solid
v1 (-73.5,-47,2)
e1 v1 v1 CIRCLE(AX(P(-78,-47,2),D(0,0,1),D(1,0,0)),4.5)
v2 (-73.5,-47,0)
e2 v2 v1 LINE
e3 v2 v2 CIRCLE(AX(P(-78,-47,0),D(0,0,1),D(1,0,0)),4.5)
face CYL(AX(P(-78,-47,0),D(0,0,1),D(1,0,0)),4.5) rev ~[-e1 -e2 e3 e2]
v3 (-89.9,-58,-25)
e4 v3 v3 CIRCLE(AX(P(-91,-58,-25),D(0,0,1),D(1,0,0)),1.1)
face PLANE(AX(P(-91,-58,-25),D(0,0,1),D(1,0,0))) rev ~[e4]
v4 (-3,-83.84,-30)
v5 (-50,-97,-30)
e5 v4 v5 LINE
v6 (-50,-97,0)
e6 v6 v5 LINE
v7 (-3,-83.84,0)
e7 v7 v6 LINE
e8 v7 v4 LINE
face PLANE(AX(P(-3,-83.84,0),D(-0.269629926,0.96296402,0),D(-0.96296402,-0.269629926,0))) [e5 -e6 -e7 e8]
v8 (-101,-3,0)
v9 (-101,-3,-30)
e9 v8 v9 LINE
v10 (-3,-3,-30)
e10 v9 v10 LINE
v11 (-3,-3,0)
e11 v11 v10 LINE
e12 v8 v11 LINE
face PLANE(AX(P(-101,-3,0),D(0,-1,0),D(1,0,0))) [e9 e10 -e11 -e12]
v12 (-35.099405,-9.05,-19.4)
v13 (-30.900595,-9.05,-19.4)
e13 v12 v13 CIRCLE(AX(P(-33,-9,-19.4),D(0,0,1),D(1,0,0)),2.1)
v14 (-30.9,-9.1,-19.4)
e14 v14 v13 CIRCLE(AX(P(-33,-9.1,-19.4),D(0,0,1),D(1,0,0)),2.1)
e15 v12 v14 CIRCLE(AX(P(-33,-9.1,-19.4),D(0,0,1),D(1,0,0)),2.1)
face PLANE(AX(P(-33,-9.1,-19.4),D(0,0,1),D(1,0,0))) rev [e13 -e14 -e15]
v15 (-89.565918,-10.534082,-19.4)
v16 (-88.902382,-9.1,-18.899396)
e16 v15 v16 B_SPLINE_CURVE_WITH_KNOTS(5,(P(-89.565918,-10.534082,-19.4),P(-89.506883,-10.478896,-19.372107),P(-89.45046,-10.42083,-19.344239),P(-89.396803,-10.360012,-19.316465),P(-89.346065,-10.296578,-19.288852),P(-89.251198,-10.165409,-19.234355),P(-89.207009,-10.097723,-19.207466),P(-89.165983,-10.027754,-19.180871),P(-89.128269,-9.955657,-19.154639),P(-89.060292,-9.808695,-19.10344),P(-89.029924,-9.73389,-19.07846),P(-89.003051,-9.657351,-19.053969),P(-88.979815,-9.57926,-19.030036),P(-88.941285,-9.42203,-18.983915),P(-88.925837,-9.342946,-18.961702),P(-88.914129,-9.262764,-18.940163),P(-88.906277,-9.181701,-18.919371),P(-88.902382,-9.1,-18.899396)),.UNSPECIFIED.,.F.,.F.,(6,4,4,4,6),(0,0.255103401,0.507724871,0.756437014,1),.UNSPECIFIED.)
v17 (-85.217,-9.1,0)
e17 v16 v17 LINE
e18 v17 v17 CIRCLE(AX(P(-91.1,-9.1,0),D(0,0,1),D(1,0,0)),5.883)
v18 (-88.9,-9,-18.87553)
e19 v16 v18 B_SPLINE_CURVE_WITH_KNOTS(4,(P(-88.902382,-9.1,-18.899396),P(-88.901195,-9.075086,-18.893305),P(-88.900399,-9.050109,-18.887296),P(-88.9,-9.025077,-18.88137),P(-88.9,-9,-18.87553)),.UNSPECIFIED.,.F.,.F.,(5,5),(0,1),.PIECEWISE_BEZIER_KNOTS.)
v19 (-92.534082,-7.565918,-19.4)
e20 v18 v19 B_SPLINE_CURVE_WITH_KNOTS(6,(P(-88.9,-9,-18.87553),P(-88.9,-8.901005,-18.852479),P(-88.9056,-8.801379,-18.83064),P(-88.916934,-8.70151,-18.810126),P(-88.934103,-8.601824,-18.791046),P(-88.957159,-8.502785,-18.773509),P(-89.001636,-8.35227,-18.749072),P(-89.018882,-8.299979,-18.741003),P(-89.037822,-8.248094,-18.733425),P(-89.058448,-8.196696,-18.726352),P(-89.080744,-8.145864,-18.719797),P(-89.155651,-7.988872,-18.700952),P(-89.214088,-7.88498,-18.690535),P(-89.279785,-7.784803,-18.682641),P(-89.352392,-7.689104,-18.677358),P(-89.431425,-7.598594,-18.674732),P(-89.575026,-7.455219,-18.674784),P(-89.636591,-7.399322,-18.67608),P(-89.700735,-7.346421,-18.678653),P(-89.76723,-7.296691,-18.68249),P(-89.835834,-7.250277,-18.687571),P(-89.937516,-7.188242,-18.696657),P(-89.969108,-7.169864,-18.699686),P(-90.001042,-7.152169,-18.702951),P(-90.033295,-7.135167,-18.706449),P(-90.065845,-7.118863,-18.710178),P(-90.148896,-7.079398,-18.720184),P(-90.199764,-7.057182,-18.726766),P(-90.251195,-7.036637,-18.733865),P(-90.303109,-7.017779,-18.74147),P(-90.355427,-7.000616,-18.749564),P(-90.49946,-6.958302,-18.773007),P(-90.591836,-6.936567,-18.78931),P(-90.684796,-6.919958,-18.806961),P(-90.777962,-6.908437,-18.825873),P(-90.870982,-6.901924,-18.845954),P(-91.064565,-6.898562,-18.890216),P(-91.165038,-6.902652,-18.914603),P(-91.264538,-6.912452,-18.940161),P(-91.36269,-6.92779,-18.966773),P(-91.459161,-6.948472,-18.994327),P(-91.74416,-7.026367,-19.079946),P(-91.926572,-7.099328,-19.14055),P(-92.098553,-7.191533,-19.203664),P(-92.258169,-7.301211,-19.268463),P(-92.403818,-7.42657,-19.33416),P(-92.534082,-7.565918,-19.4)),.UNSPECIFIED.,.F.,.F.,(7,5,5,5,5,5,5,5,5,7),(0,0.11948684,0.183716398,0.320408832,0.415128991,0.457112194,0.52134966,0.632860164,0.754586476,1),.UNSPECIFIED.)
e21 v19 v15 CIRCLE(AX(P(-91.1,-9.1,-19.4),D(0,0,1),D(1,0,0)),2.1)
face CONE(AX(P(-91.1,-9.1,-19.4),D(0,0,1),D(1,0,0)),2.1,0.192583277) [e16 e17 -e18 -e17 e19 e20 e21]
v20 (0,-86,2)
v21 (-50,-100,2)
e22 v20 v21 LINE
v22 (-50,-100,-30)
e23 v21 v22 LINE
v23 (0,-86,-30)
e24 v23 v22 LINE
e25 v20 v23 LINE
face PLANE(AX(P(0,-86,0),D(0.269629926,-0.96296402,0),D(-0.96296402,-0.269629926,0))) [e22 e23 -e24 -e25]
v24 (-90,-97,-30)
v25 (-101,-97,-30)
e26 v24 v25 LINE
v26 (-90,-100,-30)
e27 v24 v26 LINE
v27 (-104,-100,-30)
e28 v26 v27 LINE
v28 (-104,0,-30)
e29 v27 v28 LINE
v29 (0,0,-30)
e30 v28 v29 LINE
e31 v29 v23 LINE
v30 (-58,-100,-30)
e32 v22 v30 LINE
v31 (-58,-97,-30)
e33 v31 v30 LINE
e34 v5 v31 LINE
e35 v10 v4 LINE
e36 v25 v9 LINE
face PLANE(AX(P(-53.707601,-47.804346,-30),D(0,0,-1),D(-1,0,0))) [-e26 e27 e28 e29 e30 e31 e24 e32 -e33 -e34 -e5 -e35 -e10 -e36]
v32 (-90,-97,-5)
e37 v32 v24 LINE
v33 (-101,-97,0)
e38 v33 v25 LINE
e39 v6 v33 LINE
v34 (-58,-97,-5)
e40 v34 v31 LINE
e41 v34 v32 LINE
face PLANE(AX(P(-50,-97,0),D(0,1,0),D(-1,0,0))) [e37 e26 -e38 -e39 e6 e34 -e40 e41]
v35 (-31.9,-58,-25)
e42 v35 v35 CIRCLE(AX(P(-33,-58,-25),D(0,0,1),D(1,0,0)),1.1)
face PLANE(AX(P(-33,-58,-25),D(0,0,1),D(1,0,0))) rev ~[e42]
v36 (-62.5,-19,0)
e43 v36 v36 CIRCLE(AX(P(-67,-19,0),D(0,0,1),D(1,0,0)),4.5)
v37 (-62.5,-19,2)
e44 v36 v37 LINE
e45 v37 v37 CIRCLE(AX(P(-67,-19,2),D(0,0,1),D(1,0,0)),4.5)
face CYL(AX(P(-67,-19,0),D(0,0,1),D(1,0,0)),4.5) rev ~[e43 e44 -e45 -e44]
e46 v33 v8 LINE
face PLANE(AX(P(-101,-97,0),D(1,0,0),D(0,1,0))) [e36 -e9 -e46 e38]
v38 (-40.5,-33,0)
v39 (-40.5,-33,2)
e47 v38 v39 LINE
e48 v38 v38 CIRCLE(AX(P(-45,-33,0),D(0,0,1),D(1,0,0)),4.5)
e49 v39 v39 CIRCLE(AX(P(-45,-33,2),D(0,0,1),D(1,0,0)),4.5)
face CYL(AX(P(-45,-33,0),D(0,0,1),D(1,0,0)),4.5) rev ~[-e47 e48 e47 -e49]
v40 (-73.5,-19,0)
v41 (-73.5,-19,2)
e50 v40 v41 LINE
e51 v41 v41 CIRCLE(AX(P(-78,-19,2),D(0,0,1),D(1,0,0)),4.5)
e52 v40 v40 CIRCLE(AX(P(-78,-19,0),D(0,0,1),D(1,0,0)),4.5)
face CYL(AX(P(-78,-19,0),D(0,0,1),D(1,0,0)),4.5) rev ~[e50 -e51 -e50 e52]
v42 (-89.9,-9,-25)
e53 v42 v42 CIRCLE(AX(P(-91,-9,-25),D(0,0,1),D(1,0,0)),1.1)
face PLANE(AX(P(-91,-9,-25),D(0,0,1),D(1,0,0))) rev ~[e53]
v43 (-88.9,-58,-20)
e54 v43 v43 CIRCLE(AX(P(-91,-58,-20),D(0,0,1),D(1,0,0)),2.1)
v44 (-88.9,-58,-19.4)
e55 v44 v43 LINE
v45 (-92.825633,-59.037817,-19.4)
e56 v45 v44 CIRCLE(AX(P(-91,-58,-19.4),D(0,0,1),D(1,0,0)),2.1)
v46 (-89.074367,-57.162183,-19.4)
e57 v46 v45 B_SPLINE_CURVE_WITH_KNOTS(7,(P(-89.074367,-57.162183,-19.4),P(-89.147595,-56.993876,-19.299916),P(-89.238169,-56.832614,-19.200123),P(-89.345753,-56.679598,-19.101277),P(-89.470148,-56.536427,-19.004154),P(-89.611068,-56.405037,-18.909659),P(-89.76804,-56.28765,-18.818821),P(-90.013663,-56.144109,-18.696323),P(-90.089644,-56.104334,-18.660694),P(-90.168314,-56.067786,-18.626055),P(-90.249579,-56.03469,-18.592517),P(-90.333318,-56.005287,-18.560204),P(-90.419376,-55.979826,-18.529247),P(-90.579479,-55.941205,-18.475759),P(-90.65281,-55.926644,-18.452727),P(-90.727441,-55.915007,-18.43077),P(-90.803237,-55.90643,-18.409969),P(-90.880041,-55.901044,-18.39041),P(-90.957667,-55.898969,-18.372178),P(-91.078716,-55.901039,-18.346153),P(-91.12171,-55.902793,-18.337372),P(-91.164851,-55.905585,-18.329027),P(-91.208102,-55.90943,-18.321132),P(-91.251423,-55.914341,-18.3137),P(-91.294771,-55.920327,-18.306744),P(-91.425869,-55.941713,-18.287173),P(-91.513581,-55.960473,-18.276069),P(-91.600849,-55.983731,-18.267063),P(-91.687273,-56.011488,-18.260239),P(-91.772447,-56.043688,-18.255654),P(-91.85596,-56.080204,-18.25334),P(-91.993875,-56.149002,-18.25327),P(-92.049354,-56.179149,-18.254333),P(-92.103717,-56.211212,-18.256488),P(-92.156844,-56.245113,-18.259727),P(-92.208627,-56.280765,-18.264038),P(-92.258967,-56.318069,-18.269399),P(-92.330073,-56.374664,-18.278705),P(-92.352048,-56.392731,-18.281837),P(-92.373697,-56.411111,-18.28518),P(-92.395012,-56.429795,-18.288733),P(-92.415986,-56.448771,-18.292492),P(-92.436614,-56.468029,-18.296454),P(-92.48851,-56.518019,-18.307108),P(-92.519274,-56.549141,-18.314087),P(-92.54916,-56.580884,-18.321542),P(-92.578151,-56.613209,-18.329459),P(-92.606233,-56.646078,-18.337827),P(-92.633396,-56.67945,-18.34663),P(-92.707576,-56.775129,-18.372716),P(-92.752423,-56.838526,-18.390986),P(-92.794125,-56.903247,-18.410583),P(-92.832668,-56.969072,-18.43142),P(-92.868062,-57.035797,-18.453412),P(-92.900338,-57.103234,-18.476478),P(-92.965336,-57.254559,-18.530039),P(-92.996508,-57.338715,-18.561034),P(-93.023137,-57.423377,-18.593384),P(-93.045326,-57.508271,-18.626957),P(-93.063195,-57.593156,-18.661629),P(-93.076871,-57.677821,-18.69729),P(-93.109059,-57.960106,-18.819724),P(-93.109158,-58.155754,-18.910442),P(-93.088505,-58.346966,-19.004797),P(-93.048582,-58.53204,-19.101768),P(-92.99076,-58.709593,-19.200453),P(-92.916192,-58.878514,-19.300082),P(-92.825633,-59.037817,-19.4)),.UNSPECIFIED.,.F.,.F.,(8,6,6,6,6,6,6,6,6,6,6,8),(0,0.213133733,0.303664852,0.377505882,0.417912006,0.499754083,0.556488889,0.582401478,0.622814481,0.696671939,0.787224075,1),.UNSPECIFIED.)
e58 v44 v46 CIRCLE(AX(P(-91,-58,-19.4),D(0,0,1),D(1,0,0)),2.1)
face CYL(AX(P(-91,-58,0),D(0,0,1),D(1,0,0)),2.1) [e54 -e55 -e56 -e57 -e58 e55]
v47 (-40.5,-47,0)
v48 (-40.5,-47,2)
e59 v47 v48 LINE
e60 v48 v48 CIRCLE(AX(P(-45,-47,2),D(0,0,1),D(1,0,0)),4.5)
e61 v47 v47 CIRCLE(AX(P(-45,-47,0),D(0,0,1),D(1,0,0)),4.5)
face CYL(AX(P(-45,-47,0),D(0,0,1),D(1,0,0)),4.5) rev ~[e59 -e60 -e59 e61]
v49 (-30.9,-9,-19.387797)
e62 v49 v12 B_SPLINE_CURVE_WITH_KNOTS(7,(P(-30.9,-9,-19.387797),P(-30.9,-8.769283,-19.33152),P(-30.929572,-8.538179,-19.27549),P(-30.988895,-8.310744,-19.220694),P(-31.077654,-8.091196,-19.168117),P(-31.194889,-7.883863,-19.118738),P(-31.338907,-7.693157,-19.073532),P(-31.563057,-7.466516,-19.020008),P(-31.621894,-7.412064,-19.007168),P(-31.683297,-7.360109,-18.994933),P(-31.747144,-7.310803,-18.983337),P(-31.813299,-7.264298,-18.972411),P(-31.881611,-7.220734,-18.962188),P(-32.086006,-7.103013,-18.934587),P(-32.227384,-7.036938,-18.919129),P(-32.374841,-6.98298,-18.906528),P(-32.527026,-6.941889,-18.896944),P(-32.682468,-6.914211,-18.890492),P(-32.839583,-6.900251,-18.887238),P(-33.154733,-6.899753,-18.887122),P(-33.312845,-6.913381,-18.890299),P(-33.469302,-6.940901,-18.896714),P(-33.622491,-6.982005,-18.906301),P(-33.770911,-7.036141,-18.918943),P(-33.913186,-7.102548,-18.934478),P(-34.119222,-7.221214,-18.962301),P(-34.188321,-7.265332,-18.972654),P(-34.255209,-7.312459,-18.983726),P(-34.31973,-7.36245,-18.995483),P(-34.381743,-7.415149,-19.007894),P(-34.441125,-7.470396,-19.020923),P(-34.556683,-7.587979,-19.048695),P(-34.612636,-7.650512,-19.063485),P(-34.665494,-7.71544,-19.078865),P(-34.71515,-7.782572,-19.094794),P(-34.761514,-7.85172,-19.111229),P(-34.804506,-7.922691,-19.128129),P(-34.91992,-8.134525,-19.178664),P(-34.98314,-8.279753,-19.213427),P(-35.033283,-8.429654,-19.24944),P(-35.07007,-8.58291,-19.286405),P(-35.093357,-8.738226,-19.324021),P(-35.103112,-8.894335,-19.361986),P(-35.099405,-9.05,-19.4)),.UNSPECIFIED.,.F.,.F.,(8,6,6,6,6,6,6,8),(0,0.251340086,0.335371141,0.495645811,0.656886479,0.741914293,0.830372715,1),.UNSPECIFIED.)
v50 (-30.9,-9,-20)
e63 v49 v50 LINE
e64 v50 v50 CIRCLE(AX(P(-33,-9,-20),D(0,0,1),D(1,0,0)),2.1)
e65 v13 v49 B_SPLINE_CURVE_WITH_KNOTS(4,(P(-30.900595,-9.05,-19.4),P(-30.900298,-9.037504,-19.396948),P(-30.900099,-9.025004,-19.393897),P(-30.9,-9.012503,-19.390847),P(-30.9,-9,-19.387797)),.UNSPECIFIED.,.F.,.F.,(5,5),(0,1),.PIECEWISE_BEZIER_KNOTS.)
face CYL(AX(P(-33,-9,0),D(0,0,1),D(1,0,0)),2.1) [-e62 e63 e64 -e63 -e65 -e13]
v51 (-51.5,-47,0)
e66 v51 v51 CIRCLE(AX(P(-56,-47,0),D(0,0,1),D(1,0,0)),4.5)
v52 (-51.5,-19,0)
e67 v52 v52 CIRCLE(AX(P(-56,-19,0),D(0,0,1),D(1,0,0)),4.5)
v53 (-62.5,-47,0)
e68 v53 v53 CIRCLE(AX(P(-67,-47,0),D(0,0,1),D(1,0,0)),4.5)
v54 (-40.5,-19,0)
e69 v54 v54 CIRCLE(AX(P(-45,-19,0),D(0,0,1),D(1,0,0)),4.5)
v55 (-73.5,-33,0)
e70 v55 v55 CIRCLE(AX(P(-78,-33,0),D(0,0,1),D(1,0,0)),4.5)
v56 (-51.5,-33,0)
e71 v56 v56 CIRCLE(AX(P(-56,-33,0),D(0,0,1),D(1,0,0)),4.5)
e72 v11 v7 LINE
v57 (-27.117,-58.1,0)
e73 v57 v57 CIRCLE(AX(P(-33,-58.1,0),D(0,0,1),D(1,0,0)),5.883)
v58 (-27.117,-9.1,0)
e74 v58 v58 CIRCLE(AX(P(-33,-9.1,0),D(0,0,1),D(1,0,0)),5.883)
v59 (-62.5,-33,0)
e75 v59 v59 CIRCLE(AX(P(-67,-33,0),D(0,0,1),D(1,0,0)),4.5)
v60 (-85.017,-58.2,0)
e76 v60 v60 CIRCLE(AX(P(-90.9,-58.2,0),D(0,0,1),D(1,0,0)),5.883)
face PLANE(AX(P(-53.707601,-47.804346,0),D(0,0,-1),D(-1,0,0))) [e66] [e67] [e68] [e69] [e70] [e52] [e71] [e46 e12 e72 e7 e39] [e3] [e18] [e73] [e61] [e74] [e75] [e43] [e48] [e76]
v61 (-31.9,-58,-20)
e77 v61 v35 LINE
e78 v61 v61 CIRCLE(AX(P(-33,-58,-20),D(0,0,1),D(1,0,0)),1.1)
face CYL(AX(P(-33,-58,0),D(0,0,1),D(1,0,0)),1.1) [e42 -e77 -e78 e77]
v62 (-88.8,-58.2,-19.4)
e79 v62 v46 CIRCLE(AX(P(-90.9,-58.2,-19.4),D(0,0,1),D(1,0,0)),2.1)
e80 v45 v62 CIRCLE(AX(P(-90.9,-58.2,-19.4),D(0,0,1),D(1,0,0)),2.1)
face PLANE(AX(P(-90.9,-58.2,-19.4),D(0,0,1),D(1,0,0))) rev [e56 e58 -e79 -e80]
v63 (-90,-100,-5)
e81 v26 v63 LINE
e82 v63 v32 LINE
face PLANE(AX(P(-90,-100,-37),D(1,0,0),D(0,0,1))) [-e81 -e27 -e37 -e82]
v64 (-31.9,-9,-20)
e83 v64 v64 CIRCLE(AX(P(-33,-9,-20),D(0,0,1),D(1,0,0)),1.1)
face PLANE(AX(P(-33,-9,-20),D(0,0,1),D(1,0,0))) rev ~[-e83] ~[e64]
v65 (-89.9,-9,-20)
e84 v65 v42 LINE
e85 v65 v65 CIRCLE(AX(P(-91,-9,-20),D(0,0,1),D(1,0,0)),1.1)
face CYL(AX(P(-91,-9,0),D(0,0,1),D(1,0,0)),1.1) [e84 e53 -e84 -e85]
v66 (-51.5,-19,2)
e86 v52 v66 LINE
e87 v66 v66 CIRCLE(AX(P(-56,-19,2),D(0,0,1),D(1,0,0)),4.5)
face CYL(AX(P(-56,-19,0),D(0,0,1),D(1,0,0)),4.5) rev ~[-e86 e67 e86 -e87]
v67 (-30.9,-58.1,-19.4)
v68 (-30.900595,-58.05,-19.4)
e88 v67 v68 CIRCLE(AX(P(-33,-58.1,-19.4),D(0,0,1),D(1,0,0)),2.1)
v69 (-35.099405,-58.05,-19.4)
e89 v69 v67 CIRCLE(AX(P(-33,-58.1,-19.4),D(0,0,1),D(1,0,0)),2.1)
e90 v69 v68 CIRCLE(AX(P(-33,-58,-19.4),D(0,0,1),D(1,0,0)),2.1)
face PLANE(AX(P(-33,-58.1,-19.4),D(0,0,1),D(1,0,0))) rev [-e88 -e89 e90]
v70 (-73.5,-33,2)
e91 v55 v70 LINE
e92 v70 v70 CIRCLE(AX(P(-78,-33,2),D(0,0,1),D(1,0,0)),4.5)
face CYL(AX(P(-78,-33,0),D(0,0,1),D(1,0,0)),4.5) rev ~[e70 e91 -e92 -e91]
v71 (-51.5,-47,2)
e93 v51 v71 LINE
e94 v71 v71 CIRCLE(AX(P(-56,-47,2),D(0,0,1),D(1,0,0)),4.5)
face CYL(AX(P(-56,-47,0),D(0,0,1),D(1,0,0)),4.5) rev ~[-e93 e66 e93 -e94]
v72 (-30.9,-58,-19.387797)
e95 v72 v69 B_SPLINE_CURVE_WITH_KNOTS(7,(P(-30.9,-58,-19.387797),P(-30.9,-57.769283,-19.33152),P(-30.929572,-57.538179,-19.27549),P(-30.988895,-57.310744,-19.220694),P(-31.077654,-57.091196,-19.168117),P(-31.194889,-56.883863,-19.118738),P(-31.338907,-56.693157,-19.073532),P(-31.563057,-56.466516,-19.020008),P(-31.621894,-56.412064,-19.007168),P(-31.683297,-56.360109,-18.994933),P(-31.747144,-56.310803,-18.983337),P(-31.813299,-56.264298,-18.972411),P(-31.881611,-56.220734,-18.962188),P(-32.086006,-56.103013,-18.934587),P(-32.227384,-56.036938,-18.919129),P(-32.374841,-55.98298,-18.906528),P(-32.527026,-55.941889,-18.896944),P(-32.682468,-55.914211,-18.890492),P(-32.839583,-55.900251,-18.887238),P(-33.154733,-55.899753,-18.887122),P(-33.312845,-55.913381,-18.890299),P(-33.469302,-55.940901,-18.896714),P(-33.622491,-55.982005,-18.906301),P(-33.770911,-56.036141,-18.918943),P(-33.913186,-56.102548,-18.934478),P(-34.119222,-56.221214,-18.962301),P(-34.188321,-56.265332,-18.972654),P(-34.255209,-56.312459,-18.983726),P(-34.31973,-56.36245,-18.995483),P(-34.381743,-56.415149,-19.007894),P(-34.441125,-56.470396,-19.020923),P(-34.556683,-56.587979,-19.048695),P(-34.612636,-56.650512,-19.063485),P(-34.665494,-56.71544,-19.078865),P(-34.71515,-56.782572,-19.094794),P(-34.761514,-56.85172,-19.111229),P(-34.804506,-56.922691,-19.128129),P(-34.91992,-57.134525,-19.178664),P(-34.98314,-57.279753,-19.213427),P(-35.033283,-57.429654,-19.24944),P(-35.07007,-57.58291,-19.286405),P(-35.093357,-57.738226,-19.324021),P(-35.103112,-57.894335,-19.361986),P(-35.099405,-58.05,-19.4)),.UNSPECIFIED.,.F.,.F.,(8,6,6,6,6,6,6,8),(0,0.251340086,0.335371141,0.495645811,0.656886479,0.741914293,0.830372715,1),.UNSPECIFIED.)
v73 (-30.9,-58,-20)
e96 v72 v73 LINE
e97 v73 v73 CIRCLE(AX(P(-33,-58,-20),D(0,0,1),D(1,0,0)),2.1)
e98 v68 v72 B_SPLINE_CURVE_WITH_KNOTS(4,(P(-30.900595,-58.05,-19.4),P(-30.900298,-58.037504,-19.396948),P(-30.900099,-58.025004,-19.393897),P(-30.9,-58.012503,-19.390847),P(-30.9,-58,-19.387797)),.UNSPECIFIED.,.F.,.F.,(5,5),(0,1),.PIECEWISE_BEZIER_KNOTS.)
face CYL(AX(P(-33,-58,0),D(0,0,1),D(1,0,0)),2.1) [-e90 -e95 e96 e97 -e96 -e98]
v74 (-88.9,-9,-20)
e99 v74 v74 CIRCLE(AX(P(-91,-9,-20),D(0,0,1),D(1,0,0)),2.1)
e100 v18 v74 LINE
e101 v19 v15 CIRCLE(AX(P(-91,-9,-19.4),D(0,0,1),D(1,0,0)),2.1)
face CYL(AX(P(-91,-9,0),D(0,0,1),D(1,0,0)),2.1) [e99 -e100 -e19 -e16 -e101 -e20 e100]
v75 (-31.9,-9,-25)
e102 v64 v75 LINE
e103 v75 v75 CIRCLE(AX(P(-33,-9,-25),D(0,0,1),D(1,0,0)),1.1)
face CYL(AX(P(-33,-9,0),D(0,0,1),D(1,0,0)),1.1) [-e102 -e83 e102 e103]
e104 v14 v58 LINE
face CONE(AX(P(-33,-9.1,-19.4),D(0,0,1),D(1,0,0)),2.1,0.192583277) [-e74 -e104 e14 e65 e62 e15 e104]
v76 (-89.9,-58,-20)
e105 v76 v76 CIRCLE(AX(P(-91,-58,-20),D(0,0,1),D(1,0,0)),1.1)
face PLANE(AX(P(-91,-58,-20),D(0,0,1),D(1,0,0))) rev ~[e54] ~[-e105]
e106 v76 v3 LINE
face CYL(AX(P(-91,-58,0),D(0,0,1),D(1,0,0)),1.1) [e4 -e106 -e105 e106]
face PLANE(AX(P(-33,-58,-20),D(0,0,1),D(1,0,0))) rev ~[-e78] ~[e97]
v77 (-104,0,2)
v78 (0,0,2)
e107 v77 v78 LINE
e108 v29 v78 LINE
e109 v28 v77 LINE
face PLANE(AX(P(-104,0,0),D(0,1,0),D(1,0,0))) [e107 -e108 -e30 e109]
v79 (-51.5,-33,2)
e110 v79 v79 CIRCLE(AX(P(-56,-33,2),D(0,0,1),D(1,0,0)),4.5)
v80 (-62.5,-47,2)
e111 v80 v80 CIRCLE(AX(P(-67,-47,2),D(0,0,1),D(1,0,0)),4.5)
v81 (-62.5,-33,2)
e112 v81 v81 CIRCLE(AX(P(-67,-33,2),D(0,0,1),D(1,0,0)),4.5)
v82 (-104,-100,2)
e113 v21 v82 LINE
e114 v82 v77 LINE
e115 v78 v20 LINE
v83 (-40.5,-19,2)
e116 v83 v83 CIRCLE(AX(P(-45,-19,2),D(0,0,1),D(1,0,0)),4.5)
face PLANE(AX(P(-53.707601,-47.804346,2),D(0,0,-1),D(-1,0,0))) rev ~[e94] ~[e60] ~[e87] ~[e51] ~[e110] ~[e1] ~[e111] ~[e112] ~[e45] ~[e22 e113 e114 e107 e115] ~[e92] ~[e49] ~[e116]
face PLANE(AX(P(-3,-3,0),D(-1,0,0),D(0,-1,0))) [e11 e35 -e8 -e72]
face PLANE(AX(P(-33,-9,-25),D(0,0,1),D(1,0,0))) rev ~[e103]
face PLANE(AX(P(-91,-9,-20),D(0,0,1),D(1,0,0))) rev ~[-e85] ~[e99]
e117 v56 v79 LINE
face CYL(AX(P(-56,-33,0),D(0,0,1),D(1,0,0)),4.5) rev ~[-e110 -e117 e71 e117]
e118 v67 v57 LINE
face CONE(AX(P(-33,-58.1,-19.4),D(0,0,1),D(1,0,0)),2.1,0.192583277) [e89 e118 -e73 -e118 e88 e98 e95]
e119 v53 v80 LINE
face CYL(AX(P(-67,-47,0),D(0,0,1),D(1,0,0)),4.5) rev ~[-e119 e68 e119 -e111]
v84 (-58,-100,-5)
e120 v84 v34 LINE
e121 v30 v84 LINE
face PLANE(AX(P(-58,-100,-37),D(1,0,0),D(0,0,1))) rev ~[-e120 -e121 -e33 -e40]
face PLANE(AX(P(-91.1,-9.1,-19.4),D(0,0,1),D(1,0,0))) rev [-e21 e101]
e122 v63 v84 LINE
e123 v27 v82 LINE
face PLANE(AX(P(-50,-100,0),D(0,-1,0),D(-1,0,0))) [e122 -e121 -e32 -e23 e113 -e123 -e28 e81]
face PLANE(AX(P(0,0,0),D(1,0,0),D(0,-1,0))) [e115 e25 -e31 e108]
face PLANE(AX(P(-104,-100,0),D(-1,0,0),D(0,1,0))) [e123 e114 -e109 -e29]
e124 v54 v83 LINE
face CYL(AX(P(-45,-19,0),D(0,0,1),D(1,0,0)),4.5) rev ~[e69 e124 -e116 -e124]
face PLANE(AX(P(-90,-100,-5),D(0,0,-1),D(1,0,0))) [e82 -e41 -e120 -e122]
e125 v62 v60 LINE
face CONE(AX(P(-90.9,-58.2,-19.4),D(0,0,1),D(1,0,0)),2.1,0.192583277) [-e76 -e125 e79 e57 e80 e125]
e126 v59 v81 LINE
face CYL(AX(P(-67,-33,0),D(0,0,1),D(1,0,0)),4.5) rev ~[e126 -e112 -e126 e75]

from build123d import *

# Parameters (mm, degrees)
SKETCH018_W           = 32
SKETCH018_H           = 32
EXTRUDE017_DEPTH      = 10
SKETCH_R              = 2.1
EXTRUDE002_DEPTH      = 20
SKETCH003_R           = 4.5
EXTRUDE003_DEPTH      = 3
EXTRUDE003_DEPTH_BACK = 1
EXTRUDE001_DEPTH      = 2
SKETCH011_R           = 1.1
EXTRUDE010_DEPTH      = 25
EXTRUDE_DEPTH         = 30


with BuildPart() as cone001:
    # Cone001 → Cone001 (revolve)
    with BuildSketch(Plane(origin=(-91.1, -9.1, -19.4), x_dir=(1, 0, 0), z_dir=(0, -1, 0))):
        Polygon((0, 0), (2.1, 0), (6, 20), (0, 20), align=None)
    revolve(axis=Axis((-91.1, -9.1, -19.4), (0, 0, 1)))


with BuildPart() as cone002:
    # Cone002 → Cone002 (revolve)
    with BuildSketch(Plane(origin=(-33, -58.1, -19.4), x_dir=(1, 0, 0), z_dir=(0, -1, 0))):
        Polygon((0, 0), (2.1, 0), (6, 20), (0, 20), align=None)
    revolve(axis=Axis((-33, -58.1, -19.4), (0, 0, 1)))


with BuildPart() as cone003:
    # Cone003 → Cone003 (revolve)
    with BuildSketch(Plane(origin=(-90.9, -58.2, -19.4), x_dir=(1, 0, 0), z_dir=(0, -1, 0))):
        Polygon((0, 0), (2.1, 0), (6, 20), (0, 20), align=None)
    revolve(axis=Axis((-90.9, -58.2, -19.4), (0, 0, 1)))


with BuildPart() as extrude017:
    # Sketch018 (on Face8 of Fusion) → Extrude017 (new body, symmetric)
    with BuildSketch(Plane.XZ.offset(100)):
        with Locations((-74, -21)):
            Rectangle(SKETCH018_W, SKETCH018_H)
    extrude(amount=EXTRUDE017_DEPTH, both=True)


with BuildPart() as extrude002:
    # Sketch → Extrude002 (new body)
    with BuildSketch(Plane.XY):
        with Locations((-91, -9)):
            Circle(SKETCH_R)
        with Locations((-33, -9)):
            Circle(SKETCH_R)
        with Locations((-33, -58)):
            Circle(SKETCH_R)
        with Locations((-91, -58)):
            Circle(SKETCH_R)
    extrude(amount=-EXTRUDE002_DEPTH)


with BuildPart() as extrude003:
    # Sketch003 → Extrude003 (new body, two sides)
    with BuildSketch(Plane.XY) as extrude003_sk:
        with Locations((-78, -19)):
            Circle(SKETCH003_R)
        with Locations((-67, -19)):
            Circle(SKETCH003_R)
        with Locations((-56, -19)):
            Circle(SKETCH003_R)
        with Locations((-45, -19)):
            Circle(SKETCH003_R)
        with Locations((-78, -33)):
            Circle(SKETCH003_R)
        with Locations((-67, -33)):
            Circle(SKETCH003_R)
        with Locations((-56, -33)):
            Circle(SKETCH003_R)
        with Locations((-45, -33)):
            Circle(SKETCH003_R)
        with Locations((-78, -47)):
            Circle(SKETCH003_R)
        with Locations((-67, -47)):
            Circle(SKETCH003_R)
        with Locations((-56, -47)):
            Circle(SKETCH003_R)
        with Locations((-45, -47)):
            Circle(SKETCH003_R)
    extrude(amount=EXTRUDE003_DEPTH)
    extrude(extrude003_sk.sketch, amount=-EXTRUDE003_DEPTH_BACK)


with BuildPart() as cut:
    # Sketch002 → Extrude001 (new body)
    with BuildSketch(Plane.XY):
        Polygon((0, 0), (0, -86), (-50, -100), (-104, -100), (-104, 0), align=None)
    extrude(amount=EXTRUDE001_DEPTH)

    # Cut: cut Extrude003
    add(extrude003.part, mode=Mode.SUBTRACT)


with BuildPart() as extrude010:
    # Sketch011 → Extrude010 (new body)
    with BuildSketch(Plane.XY):
        with Locations((-91, -9)):
            Circle(SKETCH011_R)
        with Locations((-33, -9)):
            Circle(SKETCH011_R)
        with Locations((-33, -58)):
            Circle(SKETCH011_R)
        with Locations((-91, -58)):
            Circle(SKETCH011_R)
    extrude(amount=-EXTRUDE010_DEPTH)


with BuildPart() as cut004:
    # Sketch001 → Extrude (new body)
    with BuildSketch(Plane.XY):
        Polygon((0, 0), (0, -86), (-50, -100), (-104, -100), (-104, 0), align=None)
        Polygon((-3, -3), (-3, -83.84), (-50, -97), (-101, -97), (-101, -3), align=None, mode=Mode.SUBTRACT)
    extrude(amount=-EXTRUDE_DEPTH)

    # Fusion: union Extrude002, Cut, Extrude010
    add(extrude002.part)
    add(cut.part)
    add(extrude010.part)

    # Cut004: cut Extrude017
    add(extrude017.part, mode=Mode.SUBTRACT)


with BuildPart() as fusion003:
    # Cone → Cone (revolve)
    with BuildSketch(Plane(origin=(-33, -9.1, -19.4), x_dir=(1, 0, 0), z_dir=(0, -1, 0))):
        Polygon((0, 0), (2.1, 0), (6, 20), (0, 20), align=None)
    revolve(axis=Axis((-33, -9.1, -19.4), (0, 0, 1)))

    # Fusion003: union Cone001, Cone002, Cone003, Cut004
    add(cone001.part)
    add(cone002.part)
    add(cone003.part)
    add(cut004.part)


solid = fusion003.part
